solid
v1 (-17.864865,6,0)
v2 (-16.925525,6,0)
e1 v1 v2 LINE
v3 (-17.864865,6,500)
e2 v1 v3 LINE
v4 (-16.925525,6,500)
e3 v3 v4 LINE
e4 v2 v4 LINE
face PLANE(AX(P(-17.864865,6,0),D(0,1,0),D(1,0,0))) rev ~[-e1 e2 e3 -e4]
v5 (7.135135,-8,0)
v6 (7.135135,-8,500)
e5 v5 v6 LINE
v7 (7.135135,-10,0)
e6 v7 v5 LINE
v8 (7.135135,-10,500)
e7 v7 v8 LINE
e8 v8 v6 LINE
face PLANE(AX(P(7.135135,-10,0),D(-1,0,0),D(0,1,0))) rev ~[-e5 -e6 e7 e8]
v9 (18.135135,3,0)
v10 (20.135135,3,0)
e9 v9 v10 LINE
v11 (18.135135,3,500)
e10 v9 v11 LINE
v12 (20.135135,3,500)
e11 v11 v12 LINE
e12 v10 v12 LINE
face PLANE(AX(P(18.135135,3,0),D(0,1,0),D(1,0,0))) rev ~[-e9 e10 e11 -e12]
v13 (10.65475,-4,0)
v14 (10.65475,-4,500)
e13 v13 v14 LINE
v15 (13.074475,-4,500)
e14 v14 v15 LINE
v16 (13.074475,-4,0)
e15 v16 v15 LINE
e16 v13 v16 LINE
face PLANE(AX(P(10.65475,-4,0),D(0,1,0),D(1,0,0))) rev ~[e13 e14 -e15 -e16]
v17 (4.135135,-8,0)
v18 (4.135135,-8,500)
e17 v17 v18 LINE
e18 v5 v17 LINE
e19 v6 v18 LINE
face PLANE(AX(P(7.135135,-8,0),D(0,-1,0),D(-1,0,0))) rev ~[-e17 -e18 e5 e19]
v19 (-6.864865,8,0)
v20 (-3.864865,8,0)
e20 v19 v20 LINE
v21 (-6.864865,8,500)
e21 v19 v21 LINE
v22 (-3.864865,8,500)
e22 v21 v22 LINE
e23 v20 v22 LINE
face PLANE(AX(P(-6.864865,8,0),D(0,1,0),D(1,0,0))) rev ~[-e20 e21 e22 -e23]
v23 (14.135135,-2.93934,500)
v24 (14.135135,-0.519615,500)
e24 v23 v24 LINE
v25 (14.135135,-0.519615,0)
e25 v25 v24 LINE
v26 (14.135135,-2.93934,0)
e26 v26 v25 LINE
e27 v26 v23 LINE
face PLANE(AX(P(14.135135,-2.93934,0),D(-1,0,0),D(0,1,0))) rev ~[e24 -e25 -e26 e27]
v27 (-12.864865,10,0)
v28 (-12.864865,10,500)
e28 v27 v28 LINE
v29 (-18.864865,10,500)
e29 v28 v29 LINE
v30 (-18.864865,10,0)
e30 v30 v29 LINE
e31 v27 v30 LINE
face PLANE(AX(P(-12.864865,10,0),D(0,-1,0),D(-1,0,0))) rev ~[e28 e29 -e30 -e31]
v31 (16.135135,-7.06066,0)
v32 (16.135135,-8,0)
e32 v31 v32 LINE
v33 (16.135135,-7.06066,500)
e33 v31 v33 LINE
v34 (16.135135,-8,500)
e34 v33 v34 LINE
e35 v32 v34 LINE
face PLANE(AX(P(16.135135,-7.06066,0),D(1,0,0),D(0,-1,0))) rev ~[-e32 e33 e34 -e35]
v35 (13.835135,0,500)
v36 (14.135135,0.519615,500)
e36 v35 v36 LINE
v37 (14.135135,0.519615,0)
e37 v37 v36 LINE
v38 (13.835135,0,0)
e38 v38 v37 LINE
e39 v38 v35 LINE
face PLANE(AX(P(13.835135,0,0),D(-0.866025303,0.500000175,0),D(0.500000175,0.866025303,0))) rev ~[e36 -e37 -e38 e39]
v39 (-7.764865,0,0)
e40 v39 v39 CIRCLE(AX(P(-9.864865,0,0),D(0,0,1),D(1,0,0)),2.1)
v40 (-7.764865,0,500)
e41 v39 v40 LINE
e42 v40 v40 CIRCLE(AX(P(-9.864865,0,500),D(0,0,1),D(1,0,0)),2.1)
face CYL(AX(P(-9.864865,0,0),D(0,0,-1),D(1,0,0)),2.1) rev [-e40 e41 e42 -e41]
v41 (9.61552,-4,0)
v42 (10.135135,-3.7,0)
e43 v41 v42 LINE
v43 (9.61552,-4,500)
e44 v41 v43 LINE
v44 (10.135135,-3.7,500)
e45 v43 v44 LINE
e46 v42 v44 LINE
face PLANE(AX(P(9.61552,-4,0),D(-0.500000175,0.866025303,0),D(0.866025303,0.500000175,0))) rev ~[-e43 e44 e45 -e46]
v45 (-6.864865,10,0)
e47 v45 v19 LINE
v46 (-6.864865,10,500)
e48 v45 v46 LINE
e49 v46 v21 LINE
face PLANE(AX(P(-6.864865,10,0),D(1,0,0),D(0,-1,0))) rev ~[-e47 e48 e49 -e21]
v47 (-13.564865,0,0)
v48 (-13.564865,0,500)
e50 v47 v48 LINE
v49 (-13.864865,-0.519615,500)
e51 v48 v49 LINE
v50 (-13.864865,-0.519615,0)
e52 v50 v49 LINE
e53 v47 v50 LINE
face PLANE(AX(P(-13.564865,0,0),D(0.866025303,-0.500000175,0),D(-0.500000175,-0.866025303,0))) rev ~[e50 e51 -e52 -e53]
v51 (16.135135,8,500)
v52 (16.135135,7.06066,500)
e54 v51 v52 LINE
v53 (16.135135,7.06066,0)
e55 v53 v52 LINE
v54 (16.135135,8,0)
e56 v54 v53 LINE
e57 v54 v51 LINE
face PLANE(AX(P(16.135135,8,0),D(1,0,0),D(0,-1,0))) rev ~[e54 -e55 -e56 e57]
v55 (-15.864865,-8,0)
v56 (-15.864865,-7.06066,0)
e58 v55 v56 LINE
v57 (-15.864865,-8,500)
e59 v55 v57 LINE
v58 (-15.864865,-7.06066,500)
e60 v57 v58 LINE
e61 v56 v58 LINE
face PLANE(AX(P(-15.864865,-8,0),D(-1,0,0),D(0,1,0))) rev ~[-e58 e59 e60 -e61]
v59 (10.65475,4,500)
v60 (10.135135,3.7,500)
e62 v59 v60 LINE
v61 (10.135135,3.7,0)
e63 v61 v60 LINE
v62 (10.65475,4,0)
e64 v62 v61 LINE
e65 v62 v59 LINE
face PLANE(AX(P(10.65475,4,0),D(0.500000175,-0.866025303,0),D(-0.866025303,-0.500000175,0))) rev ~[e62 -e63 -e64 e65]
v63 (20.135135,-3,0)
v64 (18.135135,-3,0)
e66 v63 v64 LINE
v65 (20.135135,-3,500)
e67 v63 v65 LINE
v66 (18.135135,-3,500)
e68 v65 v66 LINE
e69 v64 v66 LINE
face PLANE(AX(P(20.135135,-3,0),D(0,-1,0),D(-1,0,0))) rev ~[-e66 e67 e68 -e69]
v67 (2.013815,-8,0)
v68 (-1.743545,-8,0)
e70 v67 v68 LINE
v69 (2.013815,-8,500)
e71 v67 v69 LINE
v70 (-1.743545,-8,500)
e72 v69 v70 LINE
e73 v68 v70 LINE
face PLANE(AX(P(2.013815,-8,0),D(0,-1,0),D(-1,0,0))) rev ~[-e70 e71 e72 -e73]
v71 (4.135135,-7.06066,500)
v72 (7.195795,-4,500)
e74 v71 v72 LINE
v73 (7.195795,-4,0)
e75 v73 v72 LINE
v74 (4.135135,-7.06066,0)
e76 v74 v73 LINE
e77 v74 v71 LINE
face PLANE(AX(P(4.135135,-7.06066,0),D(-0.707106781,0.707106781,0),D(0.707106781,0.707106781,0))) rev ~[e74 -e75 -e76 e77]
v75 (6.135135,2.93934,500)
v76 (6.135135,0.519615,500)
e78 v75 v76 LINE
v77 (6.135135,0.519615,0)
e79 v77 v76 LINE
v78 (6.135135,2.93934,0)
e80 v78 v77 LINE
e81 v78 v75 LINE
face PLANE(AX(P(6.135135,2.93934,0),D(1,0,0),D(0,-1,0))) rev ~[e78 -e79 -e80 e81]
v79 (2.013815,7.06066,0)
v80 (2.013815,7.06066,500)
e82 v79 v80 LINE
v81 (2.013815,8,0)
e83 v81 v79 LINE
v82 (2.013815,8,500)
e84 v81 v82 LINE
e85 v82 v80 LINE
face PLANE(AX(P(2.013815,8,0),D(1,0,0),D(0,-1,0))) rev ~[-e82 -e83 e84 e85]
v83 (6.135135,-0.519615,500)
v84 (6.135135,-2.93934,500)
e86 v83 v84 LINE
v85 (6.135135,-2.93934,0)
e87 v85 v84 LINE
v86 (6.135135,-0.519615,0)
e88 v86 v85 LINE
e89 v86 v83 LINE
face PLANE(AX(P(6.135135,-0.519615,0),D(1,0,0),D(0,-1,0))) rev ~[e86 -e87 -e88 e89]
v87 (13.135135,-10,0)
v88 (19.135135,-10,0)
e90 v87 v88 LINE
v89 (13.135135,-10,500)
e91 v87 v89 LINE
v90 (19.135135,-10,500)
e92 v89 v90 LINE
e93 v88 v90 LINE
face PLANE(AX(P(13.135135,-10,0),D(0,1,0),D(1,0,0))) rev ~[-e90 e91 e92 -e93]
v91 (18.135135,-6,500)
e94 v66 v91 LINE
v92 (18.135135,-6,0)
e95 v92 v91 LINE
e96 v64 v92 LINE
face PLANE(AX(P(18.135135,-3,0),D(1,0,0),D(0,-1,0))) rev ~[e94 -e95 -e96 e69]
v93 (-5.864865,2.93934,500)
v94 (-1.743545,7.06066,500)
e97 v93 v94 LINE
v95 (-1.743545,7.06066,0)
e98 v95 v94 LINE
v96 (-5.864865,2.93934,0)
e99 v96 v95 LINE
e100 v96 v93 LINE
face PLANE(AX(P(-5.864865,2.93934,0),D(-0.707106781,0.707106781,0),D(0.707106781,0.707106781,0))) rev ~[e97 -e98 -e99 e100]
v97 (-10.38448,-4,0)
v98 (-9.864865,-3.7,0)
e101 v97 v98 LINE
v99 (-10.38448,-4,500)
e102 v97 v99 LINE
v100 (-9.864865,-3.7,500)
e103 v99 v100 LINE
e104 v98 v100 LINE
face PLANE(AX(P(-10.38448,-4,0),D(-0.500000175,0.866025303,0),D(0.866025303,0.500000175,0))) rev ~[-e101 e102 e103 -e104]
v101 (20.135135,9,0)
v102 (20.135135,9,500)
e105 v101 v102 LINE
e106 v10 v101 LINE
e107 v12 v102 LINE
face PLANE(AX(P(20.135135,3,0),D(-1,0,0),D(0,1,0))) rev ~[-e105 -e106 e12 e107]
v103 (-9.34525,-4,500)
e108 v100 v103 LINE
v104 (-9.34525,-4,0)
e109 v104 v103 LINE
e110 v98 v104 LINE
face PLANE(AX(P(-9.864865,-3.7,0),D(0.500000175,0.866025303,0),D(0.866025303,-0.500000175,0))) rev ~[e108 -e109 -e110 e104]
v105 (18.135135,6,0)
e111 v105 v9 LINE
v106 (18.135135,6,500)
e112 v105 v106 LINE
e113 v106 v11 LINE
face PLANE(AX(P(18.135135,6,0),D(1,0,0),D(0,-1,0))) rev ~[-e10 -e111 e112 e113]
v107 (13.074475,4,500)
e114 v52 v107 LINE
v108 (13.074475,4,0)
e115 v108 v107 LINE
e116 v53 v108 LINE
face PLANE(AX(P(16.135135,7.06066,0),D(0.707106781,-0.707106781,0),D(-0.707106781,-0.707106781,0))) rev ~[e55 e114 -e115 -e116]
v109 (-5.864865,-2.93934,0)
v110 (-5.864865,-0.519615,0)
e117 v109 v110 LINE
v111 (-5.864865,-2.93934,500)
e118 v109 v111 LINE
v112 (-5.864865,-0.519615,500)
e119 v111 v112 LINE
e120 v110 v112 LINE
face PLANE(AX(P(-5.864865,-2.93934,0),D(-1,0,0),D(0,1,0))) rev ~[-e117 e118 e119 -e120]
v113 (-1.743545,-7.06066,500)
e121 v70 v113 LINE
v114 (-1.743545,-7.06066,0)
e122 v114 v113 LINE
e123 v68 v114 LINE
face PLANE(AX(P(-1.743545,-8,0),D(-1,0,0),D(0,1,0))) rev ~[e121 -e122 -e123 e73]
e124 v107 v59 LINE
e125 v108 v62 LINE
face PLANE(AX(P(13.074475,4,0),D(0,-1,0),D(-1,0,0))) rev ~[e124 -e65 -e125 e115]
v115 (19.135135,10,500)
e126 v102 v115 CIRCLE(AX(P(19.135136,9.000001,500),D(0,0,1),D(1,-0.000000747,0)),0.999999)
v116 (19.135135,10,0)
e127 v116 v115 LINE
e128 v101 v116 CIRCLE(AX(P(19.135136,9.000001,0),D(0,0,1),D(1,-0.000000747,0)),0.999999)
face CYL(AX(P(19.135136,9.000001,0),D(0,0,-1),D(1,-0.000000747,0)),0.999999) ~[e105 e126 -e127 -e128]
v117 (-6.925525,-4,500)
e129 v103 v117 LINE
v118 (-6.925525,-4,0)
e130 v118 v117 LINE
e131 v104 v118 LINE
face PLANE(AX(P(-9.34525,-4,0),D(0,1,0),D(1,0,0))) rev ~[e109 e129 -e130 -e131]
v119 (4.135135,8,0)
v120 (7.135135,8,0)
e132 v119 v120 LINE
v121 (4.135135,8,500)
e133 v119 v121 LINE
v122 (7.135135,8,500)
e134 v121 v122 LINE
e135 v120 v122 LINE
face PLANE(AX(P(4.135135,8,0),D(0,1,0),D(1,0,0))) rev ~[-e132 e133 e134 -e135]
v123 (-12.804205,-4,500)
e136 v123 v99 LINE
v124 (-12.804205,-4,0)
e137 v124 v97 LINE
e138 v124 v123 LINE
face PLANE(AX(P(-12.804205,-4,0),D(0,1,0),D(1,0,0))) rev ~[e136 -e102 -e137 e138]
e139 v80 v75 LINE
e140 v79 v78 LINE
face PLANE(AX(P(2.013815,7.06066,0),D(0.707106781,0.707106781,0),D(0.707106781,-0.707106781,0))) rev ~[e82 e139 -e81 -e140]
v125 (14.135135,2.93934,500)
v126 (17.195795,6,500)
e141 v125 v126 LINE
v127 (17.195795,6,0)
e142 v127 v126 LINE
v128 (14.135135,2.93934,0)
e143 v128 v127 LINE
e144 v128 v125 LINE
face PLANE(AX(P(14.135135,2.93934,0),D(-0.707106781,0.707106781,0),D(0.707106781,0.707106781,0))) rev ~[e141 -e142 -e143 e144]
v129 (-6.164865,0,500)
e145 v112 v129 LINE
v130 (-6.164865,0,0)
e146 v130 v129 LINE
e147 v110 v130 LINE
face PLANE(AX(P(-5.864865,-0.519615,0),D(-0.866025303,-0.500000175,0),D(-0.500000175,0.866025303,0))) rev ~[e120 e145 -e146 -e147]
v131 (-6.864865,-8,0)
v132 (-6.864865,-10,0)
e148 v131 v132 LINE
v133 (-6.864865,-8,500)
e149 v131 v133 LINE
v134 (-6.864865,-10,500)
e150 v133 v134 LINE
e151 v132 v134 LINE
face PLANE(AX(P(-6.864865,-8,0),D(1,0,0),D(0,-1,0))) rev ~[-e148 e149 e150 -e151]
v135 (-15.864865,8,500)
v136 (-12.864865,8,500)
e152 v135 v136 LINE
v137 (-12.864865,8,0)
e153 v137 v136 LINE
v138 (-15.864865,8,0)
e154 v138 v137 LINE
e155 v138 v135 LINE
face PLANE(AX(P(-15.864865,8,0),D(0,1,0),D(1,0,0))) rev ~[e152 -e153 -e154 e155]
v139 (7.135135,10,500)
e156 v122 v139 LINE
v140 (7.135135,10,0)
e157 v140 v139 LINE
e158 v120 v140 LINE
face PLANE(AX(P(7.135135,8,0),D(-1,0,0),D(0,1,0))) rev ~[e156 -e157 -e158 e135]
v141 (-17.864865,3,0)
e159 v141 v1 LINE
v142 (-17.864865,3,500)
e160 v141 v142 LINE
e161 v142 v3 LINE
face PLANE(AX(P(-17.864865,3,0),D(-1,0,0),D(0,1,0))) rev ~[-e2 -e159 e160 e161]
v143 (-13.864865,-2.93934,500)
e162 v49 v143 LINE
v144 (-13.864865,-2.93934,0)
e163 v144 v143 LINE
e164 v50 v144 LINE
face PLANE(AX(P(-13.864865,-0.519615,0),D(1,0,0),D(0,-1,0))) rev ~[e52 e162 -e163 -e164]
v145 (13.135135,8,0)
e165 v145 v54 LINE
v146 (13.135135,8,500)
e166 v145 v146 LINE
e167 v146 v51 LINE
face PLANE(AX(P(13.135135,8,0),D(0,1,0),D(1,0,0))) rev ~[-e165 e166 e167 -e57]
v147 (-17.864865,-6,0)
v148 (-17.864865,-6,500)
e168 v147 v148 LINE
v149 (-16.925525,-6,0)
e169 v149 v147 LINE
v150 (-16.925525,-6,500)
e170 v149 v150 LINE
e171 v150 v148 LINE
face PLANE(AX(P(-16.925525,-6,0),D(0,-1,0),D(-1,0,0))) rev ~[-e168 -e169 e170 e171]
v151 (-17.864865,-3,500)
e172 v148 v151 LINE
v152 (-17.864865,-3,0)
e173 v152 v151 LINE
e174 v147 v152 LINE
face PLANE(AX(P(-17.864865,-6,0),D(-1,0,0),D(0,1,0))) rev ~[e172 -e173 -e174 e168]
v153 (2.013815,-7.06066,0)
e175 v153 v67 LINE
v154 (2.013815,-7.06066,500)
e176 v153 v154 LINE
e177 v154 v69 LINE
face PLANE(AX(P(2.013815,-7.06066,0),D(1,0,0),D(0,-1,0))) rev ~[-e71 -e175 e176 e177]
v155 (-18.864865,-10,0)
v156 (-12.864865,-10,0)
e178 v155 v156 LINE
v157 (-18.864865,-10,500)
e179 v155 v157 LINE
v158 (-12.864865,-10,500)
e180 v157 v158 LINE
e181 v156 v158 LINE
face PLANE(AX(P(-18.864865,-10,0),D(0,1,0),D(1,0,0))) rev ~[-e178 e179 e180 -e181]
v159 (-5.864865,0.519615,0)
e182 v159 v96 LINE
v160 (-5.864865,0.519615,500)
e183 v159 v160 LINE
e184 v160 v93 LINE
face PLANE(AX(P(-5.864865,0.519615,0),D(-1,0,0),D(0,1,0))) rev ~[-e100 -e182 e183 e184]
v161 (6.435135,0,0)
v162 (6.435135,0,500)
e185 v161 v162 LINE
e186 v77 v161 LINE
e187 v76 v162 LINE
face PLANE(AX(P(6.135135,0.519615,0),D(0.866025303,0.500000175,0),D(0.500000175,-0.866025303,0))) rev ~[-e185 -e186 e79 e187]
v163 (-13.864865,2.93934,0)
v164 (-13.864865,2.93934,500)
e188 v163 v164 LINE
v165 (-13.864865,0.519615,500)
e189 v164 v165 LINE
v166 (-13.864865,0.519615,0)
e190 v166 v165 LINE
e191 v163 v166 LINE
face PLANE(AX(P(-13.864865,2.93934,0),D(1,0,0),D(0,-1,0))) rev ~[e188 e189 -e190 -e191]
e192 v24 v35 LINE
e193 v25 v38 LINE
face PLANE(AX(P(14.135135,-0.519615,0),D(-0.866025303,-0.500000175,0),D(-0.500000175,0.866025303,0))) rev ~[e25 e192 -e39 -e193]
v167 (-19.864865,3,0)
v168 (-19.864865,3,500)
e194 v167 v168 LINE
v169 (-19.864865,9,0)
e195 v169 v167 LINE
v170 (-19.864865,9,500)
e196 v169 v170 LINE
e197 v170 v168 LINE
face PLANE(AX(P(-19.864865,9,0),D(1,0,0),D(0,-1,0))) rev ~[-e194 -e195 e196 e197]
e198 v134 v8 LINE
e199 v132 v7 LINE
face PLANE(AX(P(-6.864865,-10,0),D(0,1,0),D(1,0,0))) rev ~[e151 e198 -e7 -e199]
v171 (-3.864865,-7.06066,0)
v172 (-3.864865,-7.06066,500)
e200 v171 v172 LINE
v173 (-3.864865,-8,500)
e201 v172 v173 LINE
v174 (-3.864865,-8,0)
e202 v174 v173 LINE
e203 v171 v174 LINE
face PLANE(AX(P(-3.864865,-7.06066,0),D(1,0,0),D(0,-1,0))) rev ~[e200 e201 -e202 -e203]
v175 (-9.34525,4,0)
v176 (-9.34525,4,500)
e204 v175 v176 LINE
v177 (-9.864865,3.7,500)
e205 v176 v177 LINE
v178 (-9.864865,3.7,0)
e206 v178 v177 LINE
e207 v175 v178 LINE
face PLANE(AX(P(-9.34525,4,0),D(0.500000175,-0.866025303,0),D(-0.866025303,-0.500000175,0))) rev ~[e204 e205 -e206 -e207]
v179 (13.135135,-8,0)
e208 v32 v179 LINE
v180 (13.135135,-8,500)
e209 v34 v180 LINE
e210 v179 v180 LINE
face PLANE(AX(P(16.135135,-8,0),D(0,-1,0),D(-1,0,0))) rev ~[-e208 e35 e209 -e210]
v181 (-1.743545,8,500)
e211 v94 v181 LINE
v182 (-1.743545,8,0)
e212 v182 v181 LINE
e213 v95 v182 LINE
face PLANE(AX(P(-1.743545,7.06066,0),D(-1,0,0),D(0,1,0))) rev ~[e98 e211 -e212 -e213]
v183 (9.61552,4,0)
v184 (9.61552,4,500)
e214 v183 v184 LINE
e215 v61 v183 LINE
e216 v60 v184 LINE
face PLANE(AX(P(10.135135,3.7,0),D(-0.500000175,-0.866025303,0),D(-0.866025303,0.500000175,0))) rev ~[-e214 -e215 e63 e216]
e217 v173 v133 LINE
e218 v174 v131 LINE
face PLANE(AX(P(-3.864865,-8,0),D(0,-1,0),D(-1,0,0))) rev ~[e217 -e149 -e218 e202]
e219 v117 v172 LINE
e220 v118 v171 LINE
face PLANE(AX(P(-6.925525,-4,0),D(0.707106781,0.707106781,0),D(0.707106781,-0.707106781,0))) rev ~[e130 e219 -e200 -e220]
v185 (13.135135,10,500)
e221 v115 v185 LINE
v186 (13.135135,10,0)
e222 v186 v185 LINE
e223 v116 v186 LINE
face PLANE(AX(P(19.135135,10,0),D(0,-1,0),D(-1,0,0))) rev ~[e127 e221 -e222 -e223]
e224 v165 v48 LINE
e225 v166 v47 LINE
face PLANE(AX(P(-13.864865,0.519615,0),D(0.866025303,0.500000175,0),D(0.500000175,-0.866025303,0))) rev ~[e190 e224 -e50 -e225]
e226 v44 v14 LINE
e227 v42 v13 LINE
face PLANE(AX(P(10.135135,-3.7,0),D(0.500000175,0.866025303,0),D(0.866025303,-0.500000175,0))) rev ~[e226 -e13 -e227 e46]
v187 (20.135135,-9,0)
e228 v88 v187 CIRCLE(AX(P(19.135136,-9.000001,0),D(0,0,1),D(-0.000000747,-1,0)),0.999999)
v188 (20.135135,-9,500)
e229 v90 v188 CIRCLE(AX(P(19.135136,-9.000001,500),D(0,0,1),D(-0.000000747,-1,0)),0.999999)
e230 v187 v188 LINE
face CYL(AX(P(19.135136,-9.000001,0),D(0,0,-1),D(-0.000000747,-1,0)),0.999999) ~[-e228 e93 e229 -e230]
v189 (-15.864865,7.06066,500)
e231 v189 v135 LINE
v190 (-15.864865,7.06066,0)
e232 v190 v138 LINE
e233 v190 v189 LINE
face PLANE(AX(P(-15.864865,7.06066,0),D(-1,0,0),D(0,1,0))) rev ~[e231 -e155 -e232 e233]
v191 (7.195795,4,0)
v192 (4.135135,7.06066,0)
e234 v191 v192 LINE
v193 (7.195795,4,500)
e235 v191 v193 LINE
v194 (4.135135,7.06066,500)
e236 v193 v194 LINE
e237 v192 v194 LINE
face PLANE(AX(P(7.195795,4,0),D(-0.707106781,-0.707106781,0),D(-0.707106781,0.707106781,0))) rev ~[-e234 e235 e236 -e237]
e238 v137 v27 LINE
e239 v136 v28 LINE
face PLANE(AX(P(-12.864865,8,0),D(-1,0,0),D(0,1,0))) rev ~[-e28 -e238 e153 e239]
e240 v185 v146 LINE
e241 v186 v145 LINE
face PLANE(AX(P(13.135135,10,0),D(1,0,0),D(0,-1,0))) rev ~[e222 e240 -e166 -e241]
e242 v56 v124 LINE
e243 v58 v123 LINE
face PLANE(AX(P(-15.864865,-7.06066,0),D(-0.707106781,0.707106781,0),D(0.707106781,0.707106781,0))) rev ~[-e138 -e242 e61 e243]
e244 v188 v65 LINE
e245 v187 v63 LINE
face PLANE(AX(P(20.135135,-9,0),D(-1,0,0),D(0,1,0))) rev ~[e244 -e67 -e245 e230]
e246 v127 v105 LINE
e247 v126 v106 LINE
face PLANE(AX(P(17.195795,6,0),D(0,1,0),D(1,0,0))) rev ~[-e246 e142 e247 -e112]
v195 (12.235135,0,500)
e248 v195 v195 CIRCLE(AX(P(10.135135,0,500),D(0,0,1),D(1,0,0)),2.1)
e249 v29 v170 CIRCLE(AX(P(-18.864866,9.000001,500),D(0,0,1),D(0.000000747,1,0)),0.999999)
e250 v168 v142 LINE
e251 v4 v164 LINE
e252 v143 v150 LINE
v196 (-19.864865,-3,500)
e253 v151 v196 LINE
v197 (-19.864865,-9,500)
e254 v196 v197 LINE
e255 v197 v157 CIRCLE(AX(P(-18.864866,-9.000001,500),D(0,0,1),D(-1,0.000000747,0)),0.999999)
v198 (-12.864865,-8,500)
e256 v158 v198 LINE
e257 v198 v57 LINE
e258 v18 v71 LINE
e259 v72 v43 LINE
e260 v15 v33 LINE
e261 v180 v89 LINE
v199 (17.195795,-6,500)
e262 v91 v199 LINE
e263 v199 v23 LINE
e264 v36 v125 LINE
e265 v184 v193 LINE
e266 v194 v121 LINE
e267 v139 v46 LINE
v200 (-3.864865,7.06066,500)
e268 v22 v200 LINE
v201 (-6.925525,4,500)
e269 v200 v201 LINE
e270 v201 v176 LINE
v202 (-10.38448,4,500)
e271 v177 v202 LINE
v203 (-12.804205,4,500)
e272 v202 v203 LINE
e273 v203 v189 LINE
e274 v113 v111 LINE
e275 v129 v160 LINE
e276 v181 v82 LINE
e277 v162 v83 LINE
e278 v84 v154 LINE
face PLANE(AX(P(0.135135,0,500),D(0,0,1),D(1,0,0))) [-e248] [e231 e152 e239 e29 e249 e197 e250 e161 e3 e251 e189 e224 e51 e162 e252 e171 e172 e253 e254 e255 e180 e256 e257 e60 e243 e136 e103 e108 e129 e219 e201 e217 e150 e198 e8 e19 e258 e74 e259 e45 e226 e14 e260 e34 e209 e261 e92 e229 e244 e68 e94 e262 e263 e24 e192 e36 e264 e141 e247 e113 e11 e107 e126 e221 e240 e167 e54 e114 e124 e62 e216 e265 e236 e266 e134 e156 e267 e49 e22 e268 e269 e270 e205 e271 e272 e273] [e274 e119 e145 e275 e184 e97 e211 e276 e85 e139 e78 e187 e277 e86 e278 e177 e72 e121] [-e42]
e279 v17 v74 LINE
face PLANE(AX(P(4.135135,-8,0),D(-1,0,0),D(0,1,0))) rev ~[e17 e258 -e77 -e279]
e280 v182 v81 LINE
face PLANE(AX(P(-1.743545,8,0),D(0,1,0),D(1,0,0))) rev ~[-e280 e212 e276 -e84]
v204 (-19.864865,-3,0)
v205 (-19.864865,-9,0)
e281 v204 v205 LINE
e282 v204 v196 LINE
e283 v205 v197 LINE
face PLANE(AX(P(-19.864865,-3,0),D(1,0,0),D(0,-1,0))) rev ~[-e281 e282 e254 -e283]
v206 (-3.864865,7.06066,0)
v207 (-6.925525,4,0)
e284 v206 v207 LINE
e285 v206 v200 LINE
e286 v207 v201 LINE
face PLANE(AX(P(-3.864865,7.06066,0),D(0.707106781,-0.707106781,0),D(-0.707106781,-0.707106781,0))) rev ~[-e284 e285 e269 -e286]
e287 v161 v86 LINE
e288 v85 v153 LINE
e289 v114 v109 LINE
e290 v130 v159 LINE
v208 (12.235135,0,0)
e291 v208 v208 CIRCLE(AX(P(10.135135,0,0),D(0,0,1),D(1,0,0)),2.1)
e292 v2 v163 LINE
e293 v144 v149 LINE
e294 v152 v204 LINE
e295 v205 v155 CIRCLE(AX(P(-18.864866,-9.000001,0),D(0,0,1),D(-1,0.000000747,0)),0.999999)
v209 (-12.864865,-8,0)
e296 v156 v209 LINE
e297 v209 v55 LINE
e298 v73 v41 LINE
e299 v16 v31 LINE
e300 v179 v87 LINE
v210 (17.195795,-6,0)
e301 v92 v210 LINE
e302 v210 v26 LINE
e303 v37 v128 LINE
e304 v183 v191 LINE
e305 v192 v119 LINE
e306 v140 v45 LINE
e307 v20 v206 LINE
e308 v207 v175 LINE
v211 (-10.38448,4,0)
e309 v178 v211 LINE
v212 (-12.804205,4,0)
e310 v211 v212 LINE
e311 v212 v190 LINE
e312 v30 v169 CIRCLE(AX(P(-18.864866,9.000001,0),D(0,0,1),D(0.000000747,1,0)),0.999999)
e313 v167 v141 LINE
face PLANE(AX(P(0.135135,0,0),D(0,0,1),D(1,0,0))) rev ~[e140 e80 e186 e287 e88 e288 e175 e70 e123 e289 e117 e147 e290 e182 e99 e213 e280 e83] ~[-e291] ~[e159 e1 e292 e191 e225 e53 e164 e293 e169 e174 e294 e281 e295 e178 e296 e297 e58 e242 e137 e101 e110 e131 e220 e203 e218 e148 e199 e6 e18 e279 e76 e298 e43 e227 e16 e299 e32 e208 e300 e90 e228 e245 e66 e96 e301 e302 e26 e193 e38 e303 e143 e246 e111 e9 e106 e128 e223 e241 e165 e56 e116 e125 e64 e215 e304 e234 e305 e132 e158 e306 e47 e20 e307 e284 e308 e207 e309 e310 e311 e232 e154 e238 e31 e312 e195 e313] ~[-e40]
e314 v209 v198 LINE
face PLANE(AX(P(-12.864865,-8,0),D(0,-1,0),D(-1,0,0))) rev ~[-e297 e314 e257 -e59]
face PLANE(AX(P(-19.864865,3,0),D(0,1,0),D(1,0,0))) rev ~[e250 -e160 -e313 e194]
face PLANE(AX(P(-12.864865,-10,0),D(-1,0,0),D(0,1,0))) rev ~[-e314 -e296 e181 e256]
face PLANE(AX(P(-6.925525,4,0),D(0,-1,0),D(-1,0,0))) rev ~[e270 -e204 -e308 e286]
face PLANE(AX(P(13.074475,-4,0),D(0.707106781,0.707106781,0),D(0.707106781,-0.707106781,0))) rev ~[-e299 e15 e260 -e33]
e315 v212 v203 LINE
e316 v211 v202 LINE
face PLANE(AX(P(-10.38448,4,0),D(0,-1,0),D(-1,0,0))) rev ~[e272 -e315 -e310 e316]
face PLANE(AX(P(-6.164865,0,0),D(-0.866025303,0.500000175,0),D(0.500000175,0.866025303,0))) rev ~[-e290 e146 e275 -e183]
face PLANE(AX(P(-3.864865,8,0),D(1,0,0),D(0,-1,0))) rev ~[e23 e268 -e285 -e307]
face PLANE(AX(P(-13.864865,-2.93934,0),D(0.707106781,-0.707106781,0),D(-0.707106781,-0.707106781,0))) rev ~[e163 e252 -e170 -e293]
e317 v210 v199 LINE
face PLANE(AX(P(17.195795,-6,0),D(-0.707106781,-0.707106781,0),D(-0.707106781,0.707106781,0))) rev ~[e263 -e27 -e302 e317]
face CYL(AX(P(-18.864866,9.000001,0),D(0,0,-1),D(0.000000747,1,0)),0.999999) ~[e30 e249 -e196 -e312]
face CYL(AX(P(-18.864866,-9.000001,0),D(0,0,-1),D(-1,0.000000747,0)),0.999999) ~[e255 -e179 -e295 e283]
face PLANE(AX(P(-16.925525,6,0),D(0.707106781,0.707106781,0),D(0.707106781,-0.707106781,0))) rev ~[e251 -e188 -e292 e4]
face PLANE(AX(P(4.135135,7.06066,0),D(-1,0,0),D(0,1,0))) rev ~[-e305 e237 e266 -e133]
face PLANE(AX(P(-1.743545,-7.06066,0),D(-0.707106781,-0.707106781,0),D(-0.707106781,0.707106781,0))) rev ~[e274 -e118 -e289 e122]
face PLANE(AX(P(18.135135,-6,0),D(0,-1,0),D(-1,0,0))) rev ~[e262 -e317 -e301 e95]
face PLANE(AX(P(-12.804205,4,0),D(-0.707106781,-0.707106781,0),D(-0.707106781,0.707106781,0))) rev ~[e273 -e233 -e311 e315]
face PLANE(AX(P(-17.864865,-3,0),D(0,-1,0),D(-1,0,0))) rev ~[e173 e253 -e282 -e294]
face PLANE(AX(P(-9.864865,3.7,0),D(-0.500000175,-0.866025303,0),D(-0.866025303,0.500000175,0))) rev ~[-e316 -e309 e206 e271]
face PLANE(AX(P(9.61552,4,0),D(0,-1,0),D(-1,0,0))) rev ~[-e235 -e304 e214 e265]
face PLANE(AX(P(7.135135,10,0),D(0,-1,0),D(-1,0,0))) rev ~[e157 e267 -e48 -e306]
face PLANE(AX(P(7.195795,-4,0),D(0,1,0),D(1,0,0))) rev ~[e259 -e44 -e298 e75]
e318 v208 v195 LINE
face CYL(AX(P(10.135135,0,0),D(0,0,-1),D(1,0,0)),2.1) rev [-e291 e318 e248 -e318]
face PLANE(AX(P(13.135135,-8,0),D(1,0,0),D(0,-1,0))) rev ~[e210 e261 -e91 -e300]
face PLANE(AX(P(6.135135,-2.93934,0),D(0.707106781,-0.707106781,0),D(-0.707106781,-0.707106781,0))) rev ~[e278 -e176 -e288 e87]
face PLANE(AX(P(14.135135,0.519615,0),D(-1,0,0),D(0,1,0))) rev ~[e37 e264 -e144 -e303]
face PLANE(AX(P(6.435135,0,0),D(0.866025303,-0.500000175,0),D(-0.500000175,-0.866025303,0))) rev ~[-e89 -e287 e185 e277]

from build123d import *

# Parameters (mm, degrees)
F0_R     = 2.1
F1_DEPTH = 500


with BuildPart() as f1:
    # F0 (on Top) → F1 (new body)
    with BuildSketch(Plane.XY):
        with BuildLine():
            Line((14.135135, -0.519615), (13.835135, 0))
            Line((13.835135, 0), (14.135135, 0.519615))
            Line((14.135135, 0.519615), (14.135135, 2.93934))
            Line((14.135135, 2.93934), (17.195795, 6))
            Line((17.195795, 6), (18.135135, 6))
            Line((18.135135, 6), (18.135135, 3))
            Line((18.135135, 3), (20.135135, 3))
            Line((20.135135, 3), (20.135135, 9))
            ThreePointArc((20.135135, 9), (19.842242, 9.707107), (19.135135, 10))
            Line((19.135135, 10), (13.135135, 10))
            Line((13.135135, 10), (13.135135, 8))
            Line((13.135135, 8), (16.135135, 8))
            Line((16.135135, 8), (16.135135, 7.06066))
            Line((16.135135, 7.06066), (13.074475, 4))
            Line((13.074475, 4), (10.65475, 4))
            Line((10.65475, 4), (10.135135, 3.7))
            Line((10.135135, 3.7), (9.61552, 4))
            Line((9.61552, 4), (7.195795, 4))
            Line((7.195795, 4), (4.135135, 7.06066))
            Line((4.135135, 7.06066), (4.135135, 8))
            Line((4.135135, 8), (7.135135, 8))
            Line((7.135135, 8), (7.135135, 10))
            Line((7.135135, 10), (-6.864865, 10))
            Line((-6.864865, 10), (-6.864865, 8))
            Line((-6.864865, 8), (-3.864865, 8))
            Line((-3.864865, 8), (-3.864865, 7.06066))
            Line((-3.864865, 7.06066), (-6.925525, 4))
            Line((-6.925525, 4), (-9.34525, 4))
            Line((-9.34525, 4), (-9.864865, 3.7))
            Line((-9.864865, 3.7), (-10.38448, 4))
            Line((-10.38448, 4), (-12.804205, 4))
            Line((-12.804205, 4), (-15.864865, 7.06066))
            Line((-15.864865, 7.06066), (-15.864865, 8))
            Line((-15.864865, 8), (-12.864865, 8))
            Line((-12.864865, 8), (-12.864865, 10))
            Line((-12.864865, 10), (-18.864865, 10))
            ThreePointArc((-18.864865, 10), (-19.571972, 9.707107), (-19.864865, 9))
            Line((-19.864865, 9), (-19.864865, 3))
            Line((-19.864865, 3), (-17.864865, 3))
            Line((-17.864865, 3), (-17.864865, 6))
            Line((-17.864865, 6), (-16.925525, 6))
            Line((-16.925525, 6), (-13.864865, 2.93934))
            Line((-13.864865, 2.93934), (-13.864865, 0.519615))
            Line((-13.864865, 0.519615), (-13.564865, 0))
            Line((-13.564865, 0), (-13.864865, -0.519615))
            Line((-13.864865, -0.519615), (-13.864865, -2.93934))
            Line((-13.864865, -2.93934), (-16.925525, -6))
            Line((-16.925525, -6), (-17.864865, -6))
            Line((-17.864865, -6), (-17.864865, -3))
            Line((-17.864865, -3), (-19.864865, -3))
            Line((-19.864865, -3), (-19.864865, -9))
            ThreePointArc((-19.864865, -9), (-19.571972, -9.707107), (-18.864865, -10))
            Line((-18.864865, -10), (-12.864865, -10))
            Line((-12.864865, -10), (-12.864865, -8))
            Line((-12.864865, -8), (-15.864865, -8))
            Line((-15.864865, -8), (-15.864865, -7.06066))
            Line((-15.864865, -7.06066), (-12.804205, -4))
            Line((-12.804205, -4), (-10.38448, -4))
            Line((-10.38448, -4), (-9.864865, -3.7))
            Line((-9.864865, -3.7), (-9.34525, -4))
            Line((-9.34525, -4), (-6.925525, -4))
            Line((-6.925525, -4), (-3.864865, -7.06066))
            Line((-3.864865, -7.06066), (-3.864865, -8))
            Line((-3.864865, -8), (-6.864865, -8))
            Line((-6.864865, -8), (-6.864865, -10))
            Line((-6.864865, -10), (7.135135, -10))
            Line((7.135135, -10), (7.135135, -8))
            Line((7.135135, -8), (4.135135, -8))
            Line((4.135135, -8), (4.135135, -7.06066))
            Line((4.135135, -7.06066), (7.195795, -4))
            Line((7.195795, -4), (9.61552, -4))
            Line((9.61552, -4), (10.135135, -3.7))
            Line((10.135135, -3.7), (10.65475, -4))
            Line((10.65475, -4), (13.074475, -4))
            Line((13.074475, -4), (16.135135, -7.06066))
            Line((16.135135, -7.06066), (16.135135, -8))
            Line((16.135135, -8), (13.135135, -8))
            Line((13.135135, -8), (13.135135, -10))
            Line((13.135135, -10), (19.135135, -10))
            ThreePointArc((19.135135, -10), (19.842242, -9.707107), (20.135135, -9))
            Line((20.135135, -9), (20.135135, -3))
            Line((20.135135, -3), (18.135135, -3))
            Line((18.135135, -3), (18.135135, -6))
            Line((18.135135, -6), (17.195795, -6))
            Line((17.195795, -6), (14.135135, -2.93934))
            Line((14.135135, -2.93934), (14.135135, -0.519615))
        make_face()
        with Locations((-9.864865, 0)):
            Circle(F0_R, mode=Mode.SUBTRACT)
        Polygon((6.435135, 0), (6.135135, -0.519615), (6.135135, -2.93934), (3.074475, -6), (2.013815, -7.06066), (2.013815, -8), (-1.743545, -8), (-1.743545, -7.06066), (-2.804205, -6), (-5.864865, -2.93934), (-5.864865, -0.519615), (-6.164865, 0), (-5.864865, 0.519615), (-5.864865, 2.93934), (-2.804205, 6), (-1.743545, 7.06066), (-1.743545, 8), (2.013815, 8), (2.013815, 7.06066), (3.074475, 6), (6.135135, 2.93934), (6.135135, 0.519615), align=None, mode=Mode.SUBTRACT)
        with Locations((10.135135, 0)):
            Circle(F0_R, mode=Mode.SUBTRACT)
    extrude(amount=F1_DEPTH)


solid = f1.part
